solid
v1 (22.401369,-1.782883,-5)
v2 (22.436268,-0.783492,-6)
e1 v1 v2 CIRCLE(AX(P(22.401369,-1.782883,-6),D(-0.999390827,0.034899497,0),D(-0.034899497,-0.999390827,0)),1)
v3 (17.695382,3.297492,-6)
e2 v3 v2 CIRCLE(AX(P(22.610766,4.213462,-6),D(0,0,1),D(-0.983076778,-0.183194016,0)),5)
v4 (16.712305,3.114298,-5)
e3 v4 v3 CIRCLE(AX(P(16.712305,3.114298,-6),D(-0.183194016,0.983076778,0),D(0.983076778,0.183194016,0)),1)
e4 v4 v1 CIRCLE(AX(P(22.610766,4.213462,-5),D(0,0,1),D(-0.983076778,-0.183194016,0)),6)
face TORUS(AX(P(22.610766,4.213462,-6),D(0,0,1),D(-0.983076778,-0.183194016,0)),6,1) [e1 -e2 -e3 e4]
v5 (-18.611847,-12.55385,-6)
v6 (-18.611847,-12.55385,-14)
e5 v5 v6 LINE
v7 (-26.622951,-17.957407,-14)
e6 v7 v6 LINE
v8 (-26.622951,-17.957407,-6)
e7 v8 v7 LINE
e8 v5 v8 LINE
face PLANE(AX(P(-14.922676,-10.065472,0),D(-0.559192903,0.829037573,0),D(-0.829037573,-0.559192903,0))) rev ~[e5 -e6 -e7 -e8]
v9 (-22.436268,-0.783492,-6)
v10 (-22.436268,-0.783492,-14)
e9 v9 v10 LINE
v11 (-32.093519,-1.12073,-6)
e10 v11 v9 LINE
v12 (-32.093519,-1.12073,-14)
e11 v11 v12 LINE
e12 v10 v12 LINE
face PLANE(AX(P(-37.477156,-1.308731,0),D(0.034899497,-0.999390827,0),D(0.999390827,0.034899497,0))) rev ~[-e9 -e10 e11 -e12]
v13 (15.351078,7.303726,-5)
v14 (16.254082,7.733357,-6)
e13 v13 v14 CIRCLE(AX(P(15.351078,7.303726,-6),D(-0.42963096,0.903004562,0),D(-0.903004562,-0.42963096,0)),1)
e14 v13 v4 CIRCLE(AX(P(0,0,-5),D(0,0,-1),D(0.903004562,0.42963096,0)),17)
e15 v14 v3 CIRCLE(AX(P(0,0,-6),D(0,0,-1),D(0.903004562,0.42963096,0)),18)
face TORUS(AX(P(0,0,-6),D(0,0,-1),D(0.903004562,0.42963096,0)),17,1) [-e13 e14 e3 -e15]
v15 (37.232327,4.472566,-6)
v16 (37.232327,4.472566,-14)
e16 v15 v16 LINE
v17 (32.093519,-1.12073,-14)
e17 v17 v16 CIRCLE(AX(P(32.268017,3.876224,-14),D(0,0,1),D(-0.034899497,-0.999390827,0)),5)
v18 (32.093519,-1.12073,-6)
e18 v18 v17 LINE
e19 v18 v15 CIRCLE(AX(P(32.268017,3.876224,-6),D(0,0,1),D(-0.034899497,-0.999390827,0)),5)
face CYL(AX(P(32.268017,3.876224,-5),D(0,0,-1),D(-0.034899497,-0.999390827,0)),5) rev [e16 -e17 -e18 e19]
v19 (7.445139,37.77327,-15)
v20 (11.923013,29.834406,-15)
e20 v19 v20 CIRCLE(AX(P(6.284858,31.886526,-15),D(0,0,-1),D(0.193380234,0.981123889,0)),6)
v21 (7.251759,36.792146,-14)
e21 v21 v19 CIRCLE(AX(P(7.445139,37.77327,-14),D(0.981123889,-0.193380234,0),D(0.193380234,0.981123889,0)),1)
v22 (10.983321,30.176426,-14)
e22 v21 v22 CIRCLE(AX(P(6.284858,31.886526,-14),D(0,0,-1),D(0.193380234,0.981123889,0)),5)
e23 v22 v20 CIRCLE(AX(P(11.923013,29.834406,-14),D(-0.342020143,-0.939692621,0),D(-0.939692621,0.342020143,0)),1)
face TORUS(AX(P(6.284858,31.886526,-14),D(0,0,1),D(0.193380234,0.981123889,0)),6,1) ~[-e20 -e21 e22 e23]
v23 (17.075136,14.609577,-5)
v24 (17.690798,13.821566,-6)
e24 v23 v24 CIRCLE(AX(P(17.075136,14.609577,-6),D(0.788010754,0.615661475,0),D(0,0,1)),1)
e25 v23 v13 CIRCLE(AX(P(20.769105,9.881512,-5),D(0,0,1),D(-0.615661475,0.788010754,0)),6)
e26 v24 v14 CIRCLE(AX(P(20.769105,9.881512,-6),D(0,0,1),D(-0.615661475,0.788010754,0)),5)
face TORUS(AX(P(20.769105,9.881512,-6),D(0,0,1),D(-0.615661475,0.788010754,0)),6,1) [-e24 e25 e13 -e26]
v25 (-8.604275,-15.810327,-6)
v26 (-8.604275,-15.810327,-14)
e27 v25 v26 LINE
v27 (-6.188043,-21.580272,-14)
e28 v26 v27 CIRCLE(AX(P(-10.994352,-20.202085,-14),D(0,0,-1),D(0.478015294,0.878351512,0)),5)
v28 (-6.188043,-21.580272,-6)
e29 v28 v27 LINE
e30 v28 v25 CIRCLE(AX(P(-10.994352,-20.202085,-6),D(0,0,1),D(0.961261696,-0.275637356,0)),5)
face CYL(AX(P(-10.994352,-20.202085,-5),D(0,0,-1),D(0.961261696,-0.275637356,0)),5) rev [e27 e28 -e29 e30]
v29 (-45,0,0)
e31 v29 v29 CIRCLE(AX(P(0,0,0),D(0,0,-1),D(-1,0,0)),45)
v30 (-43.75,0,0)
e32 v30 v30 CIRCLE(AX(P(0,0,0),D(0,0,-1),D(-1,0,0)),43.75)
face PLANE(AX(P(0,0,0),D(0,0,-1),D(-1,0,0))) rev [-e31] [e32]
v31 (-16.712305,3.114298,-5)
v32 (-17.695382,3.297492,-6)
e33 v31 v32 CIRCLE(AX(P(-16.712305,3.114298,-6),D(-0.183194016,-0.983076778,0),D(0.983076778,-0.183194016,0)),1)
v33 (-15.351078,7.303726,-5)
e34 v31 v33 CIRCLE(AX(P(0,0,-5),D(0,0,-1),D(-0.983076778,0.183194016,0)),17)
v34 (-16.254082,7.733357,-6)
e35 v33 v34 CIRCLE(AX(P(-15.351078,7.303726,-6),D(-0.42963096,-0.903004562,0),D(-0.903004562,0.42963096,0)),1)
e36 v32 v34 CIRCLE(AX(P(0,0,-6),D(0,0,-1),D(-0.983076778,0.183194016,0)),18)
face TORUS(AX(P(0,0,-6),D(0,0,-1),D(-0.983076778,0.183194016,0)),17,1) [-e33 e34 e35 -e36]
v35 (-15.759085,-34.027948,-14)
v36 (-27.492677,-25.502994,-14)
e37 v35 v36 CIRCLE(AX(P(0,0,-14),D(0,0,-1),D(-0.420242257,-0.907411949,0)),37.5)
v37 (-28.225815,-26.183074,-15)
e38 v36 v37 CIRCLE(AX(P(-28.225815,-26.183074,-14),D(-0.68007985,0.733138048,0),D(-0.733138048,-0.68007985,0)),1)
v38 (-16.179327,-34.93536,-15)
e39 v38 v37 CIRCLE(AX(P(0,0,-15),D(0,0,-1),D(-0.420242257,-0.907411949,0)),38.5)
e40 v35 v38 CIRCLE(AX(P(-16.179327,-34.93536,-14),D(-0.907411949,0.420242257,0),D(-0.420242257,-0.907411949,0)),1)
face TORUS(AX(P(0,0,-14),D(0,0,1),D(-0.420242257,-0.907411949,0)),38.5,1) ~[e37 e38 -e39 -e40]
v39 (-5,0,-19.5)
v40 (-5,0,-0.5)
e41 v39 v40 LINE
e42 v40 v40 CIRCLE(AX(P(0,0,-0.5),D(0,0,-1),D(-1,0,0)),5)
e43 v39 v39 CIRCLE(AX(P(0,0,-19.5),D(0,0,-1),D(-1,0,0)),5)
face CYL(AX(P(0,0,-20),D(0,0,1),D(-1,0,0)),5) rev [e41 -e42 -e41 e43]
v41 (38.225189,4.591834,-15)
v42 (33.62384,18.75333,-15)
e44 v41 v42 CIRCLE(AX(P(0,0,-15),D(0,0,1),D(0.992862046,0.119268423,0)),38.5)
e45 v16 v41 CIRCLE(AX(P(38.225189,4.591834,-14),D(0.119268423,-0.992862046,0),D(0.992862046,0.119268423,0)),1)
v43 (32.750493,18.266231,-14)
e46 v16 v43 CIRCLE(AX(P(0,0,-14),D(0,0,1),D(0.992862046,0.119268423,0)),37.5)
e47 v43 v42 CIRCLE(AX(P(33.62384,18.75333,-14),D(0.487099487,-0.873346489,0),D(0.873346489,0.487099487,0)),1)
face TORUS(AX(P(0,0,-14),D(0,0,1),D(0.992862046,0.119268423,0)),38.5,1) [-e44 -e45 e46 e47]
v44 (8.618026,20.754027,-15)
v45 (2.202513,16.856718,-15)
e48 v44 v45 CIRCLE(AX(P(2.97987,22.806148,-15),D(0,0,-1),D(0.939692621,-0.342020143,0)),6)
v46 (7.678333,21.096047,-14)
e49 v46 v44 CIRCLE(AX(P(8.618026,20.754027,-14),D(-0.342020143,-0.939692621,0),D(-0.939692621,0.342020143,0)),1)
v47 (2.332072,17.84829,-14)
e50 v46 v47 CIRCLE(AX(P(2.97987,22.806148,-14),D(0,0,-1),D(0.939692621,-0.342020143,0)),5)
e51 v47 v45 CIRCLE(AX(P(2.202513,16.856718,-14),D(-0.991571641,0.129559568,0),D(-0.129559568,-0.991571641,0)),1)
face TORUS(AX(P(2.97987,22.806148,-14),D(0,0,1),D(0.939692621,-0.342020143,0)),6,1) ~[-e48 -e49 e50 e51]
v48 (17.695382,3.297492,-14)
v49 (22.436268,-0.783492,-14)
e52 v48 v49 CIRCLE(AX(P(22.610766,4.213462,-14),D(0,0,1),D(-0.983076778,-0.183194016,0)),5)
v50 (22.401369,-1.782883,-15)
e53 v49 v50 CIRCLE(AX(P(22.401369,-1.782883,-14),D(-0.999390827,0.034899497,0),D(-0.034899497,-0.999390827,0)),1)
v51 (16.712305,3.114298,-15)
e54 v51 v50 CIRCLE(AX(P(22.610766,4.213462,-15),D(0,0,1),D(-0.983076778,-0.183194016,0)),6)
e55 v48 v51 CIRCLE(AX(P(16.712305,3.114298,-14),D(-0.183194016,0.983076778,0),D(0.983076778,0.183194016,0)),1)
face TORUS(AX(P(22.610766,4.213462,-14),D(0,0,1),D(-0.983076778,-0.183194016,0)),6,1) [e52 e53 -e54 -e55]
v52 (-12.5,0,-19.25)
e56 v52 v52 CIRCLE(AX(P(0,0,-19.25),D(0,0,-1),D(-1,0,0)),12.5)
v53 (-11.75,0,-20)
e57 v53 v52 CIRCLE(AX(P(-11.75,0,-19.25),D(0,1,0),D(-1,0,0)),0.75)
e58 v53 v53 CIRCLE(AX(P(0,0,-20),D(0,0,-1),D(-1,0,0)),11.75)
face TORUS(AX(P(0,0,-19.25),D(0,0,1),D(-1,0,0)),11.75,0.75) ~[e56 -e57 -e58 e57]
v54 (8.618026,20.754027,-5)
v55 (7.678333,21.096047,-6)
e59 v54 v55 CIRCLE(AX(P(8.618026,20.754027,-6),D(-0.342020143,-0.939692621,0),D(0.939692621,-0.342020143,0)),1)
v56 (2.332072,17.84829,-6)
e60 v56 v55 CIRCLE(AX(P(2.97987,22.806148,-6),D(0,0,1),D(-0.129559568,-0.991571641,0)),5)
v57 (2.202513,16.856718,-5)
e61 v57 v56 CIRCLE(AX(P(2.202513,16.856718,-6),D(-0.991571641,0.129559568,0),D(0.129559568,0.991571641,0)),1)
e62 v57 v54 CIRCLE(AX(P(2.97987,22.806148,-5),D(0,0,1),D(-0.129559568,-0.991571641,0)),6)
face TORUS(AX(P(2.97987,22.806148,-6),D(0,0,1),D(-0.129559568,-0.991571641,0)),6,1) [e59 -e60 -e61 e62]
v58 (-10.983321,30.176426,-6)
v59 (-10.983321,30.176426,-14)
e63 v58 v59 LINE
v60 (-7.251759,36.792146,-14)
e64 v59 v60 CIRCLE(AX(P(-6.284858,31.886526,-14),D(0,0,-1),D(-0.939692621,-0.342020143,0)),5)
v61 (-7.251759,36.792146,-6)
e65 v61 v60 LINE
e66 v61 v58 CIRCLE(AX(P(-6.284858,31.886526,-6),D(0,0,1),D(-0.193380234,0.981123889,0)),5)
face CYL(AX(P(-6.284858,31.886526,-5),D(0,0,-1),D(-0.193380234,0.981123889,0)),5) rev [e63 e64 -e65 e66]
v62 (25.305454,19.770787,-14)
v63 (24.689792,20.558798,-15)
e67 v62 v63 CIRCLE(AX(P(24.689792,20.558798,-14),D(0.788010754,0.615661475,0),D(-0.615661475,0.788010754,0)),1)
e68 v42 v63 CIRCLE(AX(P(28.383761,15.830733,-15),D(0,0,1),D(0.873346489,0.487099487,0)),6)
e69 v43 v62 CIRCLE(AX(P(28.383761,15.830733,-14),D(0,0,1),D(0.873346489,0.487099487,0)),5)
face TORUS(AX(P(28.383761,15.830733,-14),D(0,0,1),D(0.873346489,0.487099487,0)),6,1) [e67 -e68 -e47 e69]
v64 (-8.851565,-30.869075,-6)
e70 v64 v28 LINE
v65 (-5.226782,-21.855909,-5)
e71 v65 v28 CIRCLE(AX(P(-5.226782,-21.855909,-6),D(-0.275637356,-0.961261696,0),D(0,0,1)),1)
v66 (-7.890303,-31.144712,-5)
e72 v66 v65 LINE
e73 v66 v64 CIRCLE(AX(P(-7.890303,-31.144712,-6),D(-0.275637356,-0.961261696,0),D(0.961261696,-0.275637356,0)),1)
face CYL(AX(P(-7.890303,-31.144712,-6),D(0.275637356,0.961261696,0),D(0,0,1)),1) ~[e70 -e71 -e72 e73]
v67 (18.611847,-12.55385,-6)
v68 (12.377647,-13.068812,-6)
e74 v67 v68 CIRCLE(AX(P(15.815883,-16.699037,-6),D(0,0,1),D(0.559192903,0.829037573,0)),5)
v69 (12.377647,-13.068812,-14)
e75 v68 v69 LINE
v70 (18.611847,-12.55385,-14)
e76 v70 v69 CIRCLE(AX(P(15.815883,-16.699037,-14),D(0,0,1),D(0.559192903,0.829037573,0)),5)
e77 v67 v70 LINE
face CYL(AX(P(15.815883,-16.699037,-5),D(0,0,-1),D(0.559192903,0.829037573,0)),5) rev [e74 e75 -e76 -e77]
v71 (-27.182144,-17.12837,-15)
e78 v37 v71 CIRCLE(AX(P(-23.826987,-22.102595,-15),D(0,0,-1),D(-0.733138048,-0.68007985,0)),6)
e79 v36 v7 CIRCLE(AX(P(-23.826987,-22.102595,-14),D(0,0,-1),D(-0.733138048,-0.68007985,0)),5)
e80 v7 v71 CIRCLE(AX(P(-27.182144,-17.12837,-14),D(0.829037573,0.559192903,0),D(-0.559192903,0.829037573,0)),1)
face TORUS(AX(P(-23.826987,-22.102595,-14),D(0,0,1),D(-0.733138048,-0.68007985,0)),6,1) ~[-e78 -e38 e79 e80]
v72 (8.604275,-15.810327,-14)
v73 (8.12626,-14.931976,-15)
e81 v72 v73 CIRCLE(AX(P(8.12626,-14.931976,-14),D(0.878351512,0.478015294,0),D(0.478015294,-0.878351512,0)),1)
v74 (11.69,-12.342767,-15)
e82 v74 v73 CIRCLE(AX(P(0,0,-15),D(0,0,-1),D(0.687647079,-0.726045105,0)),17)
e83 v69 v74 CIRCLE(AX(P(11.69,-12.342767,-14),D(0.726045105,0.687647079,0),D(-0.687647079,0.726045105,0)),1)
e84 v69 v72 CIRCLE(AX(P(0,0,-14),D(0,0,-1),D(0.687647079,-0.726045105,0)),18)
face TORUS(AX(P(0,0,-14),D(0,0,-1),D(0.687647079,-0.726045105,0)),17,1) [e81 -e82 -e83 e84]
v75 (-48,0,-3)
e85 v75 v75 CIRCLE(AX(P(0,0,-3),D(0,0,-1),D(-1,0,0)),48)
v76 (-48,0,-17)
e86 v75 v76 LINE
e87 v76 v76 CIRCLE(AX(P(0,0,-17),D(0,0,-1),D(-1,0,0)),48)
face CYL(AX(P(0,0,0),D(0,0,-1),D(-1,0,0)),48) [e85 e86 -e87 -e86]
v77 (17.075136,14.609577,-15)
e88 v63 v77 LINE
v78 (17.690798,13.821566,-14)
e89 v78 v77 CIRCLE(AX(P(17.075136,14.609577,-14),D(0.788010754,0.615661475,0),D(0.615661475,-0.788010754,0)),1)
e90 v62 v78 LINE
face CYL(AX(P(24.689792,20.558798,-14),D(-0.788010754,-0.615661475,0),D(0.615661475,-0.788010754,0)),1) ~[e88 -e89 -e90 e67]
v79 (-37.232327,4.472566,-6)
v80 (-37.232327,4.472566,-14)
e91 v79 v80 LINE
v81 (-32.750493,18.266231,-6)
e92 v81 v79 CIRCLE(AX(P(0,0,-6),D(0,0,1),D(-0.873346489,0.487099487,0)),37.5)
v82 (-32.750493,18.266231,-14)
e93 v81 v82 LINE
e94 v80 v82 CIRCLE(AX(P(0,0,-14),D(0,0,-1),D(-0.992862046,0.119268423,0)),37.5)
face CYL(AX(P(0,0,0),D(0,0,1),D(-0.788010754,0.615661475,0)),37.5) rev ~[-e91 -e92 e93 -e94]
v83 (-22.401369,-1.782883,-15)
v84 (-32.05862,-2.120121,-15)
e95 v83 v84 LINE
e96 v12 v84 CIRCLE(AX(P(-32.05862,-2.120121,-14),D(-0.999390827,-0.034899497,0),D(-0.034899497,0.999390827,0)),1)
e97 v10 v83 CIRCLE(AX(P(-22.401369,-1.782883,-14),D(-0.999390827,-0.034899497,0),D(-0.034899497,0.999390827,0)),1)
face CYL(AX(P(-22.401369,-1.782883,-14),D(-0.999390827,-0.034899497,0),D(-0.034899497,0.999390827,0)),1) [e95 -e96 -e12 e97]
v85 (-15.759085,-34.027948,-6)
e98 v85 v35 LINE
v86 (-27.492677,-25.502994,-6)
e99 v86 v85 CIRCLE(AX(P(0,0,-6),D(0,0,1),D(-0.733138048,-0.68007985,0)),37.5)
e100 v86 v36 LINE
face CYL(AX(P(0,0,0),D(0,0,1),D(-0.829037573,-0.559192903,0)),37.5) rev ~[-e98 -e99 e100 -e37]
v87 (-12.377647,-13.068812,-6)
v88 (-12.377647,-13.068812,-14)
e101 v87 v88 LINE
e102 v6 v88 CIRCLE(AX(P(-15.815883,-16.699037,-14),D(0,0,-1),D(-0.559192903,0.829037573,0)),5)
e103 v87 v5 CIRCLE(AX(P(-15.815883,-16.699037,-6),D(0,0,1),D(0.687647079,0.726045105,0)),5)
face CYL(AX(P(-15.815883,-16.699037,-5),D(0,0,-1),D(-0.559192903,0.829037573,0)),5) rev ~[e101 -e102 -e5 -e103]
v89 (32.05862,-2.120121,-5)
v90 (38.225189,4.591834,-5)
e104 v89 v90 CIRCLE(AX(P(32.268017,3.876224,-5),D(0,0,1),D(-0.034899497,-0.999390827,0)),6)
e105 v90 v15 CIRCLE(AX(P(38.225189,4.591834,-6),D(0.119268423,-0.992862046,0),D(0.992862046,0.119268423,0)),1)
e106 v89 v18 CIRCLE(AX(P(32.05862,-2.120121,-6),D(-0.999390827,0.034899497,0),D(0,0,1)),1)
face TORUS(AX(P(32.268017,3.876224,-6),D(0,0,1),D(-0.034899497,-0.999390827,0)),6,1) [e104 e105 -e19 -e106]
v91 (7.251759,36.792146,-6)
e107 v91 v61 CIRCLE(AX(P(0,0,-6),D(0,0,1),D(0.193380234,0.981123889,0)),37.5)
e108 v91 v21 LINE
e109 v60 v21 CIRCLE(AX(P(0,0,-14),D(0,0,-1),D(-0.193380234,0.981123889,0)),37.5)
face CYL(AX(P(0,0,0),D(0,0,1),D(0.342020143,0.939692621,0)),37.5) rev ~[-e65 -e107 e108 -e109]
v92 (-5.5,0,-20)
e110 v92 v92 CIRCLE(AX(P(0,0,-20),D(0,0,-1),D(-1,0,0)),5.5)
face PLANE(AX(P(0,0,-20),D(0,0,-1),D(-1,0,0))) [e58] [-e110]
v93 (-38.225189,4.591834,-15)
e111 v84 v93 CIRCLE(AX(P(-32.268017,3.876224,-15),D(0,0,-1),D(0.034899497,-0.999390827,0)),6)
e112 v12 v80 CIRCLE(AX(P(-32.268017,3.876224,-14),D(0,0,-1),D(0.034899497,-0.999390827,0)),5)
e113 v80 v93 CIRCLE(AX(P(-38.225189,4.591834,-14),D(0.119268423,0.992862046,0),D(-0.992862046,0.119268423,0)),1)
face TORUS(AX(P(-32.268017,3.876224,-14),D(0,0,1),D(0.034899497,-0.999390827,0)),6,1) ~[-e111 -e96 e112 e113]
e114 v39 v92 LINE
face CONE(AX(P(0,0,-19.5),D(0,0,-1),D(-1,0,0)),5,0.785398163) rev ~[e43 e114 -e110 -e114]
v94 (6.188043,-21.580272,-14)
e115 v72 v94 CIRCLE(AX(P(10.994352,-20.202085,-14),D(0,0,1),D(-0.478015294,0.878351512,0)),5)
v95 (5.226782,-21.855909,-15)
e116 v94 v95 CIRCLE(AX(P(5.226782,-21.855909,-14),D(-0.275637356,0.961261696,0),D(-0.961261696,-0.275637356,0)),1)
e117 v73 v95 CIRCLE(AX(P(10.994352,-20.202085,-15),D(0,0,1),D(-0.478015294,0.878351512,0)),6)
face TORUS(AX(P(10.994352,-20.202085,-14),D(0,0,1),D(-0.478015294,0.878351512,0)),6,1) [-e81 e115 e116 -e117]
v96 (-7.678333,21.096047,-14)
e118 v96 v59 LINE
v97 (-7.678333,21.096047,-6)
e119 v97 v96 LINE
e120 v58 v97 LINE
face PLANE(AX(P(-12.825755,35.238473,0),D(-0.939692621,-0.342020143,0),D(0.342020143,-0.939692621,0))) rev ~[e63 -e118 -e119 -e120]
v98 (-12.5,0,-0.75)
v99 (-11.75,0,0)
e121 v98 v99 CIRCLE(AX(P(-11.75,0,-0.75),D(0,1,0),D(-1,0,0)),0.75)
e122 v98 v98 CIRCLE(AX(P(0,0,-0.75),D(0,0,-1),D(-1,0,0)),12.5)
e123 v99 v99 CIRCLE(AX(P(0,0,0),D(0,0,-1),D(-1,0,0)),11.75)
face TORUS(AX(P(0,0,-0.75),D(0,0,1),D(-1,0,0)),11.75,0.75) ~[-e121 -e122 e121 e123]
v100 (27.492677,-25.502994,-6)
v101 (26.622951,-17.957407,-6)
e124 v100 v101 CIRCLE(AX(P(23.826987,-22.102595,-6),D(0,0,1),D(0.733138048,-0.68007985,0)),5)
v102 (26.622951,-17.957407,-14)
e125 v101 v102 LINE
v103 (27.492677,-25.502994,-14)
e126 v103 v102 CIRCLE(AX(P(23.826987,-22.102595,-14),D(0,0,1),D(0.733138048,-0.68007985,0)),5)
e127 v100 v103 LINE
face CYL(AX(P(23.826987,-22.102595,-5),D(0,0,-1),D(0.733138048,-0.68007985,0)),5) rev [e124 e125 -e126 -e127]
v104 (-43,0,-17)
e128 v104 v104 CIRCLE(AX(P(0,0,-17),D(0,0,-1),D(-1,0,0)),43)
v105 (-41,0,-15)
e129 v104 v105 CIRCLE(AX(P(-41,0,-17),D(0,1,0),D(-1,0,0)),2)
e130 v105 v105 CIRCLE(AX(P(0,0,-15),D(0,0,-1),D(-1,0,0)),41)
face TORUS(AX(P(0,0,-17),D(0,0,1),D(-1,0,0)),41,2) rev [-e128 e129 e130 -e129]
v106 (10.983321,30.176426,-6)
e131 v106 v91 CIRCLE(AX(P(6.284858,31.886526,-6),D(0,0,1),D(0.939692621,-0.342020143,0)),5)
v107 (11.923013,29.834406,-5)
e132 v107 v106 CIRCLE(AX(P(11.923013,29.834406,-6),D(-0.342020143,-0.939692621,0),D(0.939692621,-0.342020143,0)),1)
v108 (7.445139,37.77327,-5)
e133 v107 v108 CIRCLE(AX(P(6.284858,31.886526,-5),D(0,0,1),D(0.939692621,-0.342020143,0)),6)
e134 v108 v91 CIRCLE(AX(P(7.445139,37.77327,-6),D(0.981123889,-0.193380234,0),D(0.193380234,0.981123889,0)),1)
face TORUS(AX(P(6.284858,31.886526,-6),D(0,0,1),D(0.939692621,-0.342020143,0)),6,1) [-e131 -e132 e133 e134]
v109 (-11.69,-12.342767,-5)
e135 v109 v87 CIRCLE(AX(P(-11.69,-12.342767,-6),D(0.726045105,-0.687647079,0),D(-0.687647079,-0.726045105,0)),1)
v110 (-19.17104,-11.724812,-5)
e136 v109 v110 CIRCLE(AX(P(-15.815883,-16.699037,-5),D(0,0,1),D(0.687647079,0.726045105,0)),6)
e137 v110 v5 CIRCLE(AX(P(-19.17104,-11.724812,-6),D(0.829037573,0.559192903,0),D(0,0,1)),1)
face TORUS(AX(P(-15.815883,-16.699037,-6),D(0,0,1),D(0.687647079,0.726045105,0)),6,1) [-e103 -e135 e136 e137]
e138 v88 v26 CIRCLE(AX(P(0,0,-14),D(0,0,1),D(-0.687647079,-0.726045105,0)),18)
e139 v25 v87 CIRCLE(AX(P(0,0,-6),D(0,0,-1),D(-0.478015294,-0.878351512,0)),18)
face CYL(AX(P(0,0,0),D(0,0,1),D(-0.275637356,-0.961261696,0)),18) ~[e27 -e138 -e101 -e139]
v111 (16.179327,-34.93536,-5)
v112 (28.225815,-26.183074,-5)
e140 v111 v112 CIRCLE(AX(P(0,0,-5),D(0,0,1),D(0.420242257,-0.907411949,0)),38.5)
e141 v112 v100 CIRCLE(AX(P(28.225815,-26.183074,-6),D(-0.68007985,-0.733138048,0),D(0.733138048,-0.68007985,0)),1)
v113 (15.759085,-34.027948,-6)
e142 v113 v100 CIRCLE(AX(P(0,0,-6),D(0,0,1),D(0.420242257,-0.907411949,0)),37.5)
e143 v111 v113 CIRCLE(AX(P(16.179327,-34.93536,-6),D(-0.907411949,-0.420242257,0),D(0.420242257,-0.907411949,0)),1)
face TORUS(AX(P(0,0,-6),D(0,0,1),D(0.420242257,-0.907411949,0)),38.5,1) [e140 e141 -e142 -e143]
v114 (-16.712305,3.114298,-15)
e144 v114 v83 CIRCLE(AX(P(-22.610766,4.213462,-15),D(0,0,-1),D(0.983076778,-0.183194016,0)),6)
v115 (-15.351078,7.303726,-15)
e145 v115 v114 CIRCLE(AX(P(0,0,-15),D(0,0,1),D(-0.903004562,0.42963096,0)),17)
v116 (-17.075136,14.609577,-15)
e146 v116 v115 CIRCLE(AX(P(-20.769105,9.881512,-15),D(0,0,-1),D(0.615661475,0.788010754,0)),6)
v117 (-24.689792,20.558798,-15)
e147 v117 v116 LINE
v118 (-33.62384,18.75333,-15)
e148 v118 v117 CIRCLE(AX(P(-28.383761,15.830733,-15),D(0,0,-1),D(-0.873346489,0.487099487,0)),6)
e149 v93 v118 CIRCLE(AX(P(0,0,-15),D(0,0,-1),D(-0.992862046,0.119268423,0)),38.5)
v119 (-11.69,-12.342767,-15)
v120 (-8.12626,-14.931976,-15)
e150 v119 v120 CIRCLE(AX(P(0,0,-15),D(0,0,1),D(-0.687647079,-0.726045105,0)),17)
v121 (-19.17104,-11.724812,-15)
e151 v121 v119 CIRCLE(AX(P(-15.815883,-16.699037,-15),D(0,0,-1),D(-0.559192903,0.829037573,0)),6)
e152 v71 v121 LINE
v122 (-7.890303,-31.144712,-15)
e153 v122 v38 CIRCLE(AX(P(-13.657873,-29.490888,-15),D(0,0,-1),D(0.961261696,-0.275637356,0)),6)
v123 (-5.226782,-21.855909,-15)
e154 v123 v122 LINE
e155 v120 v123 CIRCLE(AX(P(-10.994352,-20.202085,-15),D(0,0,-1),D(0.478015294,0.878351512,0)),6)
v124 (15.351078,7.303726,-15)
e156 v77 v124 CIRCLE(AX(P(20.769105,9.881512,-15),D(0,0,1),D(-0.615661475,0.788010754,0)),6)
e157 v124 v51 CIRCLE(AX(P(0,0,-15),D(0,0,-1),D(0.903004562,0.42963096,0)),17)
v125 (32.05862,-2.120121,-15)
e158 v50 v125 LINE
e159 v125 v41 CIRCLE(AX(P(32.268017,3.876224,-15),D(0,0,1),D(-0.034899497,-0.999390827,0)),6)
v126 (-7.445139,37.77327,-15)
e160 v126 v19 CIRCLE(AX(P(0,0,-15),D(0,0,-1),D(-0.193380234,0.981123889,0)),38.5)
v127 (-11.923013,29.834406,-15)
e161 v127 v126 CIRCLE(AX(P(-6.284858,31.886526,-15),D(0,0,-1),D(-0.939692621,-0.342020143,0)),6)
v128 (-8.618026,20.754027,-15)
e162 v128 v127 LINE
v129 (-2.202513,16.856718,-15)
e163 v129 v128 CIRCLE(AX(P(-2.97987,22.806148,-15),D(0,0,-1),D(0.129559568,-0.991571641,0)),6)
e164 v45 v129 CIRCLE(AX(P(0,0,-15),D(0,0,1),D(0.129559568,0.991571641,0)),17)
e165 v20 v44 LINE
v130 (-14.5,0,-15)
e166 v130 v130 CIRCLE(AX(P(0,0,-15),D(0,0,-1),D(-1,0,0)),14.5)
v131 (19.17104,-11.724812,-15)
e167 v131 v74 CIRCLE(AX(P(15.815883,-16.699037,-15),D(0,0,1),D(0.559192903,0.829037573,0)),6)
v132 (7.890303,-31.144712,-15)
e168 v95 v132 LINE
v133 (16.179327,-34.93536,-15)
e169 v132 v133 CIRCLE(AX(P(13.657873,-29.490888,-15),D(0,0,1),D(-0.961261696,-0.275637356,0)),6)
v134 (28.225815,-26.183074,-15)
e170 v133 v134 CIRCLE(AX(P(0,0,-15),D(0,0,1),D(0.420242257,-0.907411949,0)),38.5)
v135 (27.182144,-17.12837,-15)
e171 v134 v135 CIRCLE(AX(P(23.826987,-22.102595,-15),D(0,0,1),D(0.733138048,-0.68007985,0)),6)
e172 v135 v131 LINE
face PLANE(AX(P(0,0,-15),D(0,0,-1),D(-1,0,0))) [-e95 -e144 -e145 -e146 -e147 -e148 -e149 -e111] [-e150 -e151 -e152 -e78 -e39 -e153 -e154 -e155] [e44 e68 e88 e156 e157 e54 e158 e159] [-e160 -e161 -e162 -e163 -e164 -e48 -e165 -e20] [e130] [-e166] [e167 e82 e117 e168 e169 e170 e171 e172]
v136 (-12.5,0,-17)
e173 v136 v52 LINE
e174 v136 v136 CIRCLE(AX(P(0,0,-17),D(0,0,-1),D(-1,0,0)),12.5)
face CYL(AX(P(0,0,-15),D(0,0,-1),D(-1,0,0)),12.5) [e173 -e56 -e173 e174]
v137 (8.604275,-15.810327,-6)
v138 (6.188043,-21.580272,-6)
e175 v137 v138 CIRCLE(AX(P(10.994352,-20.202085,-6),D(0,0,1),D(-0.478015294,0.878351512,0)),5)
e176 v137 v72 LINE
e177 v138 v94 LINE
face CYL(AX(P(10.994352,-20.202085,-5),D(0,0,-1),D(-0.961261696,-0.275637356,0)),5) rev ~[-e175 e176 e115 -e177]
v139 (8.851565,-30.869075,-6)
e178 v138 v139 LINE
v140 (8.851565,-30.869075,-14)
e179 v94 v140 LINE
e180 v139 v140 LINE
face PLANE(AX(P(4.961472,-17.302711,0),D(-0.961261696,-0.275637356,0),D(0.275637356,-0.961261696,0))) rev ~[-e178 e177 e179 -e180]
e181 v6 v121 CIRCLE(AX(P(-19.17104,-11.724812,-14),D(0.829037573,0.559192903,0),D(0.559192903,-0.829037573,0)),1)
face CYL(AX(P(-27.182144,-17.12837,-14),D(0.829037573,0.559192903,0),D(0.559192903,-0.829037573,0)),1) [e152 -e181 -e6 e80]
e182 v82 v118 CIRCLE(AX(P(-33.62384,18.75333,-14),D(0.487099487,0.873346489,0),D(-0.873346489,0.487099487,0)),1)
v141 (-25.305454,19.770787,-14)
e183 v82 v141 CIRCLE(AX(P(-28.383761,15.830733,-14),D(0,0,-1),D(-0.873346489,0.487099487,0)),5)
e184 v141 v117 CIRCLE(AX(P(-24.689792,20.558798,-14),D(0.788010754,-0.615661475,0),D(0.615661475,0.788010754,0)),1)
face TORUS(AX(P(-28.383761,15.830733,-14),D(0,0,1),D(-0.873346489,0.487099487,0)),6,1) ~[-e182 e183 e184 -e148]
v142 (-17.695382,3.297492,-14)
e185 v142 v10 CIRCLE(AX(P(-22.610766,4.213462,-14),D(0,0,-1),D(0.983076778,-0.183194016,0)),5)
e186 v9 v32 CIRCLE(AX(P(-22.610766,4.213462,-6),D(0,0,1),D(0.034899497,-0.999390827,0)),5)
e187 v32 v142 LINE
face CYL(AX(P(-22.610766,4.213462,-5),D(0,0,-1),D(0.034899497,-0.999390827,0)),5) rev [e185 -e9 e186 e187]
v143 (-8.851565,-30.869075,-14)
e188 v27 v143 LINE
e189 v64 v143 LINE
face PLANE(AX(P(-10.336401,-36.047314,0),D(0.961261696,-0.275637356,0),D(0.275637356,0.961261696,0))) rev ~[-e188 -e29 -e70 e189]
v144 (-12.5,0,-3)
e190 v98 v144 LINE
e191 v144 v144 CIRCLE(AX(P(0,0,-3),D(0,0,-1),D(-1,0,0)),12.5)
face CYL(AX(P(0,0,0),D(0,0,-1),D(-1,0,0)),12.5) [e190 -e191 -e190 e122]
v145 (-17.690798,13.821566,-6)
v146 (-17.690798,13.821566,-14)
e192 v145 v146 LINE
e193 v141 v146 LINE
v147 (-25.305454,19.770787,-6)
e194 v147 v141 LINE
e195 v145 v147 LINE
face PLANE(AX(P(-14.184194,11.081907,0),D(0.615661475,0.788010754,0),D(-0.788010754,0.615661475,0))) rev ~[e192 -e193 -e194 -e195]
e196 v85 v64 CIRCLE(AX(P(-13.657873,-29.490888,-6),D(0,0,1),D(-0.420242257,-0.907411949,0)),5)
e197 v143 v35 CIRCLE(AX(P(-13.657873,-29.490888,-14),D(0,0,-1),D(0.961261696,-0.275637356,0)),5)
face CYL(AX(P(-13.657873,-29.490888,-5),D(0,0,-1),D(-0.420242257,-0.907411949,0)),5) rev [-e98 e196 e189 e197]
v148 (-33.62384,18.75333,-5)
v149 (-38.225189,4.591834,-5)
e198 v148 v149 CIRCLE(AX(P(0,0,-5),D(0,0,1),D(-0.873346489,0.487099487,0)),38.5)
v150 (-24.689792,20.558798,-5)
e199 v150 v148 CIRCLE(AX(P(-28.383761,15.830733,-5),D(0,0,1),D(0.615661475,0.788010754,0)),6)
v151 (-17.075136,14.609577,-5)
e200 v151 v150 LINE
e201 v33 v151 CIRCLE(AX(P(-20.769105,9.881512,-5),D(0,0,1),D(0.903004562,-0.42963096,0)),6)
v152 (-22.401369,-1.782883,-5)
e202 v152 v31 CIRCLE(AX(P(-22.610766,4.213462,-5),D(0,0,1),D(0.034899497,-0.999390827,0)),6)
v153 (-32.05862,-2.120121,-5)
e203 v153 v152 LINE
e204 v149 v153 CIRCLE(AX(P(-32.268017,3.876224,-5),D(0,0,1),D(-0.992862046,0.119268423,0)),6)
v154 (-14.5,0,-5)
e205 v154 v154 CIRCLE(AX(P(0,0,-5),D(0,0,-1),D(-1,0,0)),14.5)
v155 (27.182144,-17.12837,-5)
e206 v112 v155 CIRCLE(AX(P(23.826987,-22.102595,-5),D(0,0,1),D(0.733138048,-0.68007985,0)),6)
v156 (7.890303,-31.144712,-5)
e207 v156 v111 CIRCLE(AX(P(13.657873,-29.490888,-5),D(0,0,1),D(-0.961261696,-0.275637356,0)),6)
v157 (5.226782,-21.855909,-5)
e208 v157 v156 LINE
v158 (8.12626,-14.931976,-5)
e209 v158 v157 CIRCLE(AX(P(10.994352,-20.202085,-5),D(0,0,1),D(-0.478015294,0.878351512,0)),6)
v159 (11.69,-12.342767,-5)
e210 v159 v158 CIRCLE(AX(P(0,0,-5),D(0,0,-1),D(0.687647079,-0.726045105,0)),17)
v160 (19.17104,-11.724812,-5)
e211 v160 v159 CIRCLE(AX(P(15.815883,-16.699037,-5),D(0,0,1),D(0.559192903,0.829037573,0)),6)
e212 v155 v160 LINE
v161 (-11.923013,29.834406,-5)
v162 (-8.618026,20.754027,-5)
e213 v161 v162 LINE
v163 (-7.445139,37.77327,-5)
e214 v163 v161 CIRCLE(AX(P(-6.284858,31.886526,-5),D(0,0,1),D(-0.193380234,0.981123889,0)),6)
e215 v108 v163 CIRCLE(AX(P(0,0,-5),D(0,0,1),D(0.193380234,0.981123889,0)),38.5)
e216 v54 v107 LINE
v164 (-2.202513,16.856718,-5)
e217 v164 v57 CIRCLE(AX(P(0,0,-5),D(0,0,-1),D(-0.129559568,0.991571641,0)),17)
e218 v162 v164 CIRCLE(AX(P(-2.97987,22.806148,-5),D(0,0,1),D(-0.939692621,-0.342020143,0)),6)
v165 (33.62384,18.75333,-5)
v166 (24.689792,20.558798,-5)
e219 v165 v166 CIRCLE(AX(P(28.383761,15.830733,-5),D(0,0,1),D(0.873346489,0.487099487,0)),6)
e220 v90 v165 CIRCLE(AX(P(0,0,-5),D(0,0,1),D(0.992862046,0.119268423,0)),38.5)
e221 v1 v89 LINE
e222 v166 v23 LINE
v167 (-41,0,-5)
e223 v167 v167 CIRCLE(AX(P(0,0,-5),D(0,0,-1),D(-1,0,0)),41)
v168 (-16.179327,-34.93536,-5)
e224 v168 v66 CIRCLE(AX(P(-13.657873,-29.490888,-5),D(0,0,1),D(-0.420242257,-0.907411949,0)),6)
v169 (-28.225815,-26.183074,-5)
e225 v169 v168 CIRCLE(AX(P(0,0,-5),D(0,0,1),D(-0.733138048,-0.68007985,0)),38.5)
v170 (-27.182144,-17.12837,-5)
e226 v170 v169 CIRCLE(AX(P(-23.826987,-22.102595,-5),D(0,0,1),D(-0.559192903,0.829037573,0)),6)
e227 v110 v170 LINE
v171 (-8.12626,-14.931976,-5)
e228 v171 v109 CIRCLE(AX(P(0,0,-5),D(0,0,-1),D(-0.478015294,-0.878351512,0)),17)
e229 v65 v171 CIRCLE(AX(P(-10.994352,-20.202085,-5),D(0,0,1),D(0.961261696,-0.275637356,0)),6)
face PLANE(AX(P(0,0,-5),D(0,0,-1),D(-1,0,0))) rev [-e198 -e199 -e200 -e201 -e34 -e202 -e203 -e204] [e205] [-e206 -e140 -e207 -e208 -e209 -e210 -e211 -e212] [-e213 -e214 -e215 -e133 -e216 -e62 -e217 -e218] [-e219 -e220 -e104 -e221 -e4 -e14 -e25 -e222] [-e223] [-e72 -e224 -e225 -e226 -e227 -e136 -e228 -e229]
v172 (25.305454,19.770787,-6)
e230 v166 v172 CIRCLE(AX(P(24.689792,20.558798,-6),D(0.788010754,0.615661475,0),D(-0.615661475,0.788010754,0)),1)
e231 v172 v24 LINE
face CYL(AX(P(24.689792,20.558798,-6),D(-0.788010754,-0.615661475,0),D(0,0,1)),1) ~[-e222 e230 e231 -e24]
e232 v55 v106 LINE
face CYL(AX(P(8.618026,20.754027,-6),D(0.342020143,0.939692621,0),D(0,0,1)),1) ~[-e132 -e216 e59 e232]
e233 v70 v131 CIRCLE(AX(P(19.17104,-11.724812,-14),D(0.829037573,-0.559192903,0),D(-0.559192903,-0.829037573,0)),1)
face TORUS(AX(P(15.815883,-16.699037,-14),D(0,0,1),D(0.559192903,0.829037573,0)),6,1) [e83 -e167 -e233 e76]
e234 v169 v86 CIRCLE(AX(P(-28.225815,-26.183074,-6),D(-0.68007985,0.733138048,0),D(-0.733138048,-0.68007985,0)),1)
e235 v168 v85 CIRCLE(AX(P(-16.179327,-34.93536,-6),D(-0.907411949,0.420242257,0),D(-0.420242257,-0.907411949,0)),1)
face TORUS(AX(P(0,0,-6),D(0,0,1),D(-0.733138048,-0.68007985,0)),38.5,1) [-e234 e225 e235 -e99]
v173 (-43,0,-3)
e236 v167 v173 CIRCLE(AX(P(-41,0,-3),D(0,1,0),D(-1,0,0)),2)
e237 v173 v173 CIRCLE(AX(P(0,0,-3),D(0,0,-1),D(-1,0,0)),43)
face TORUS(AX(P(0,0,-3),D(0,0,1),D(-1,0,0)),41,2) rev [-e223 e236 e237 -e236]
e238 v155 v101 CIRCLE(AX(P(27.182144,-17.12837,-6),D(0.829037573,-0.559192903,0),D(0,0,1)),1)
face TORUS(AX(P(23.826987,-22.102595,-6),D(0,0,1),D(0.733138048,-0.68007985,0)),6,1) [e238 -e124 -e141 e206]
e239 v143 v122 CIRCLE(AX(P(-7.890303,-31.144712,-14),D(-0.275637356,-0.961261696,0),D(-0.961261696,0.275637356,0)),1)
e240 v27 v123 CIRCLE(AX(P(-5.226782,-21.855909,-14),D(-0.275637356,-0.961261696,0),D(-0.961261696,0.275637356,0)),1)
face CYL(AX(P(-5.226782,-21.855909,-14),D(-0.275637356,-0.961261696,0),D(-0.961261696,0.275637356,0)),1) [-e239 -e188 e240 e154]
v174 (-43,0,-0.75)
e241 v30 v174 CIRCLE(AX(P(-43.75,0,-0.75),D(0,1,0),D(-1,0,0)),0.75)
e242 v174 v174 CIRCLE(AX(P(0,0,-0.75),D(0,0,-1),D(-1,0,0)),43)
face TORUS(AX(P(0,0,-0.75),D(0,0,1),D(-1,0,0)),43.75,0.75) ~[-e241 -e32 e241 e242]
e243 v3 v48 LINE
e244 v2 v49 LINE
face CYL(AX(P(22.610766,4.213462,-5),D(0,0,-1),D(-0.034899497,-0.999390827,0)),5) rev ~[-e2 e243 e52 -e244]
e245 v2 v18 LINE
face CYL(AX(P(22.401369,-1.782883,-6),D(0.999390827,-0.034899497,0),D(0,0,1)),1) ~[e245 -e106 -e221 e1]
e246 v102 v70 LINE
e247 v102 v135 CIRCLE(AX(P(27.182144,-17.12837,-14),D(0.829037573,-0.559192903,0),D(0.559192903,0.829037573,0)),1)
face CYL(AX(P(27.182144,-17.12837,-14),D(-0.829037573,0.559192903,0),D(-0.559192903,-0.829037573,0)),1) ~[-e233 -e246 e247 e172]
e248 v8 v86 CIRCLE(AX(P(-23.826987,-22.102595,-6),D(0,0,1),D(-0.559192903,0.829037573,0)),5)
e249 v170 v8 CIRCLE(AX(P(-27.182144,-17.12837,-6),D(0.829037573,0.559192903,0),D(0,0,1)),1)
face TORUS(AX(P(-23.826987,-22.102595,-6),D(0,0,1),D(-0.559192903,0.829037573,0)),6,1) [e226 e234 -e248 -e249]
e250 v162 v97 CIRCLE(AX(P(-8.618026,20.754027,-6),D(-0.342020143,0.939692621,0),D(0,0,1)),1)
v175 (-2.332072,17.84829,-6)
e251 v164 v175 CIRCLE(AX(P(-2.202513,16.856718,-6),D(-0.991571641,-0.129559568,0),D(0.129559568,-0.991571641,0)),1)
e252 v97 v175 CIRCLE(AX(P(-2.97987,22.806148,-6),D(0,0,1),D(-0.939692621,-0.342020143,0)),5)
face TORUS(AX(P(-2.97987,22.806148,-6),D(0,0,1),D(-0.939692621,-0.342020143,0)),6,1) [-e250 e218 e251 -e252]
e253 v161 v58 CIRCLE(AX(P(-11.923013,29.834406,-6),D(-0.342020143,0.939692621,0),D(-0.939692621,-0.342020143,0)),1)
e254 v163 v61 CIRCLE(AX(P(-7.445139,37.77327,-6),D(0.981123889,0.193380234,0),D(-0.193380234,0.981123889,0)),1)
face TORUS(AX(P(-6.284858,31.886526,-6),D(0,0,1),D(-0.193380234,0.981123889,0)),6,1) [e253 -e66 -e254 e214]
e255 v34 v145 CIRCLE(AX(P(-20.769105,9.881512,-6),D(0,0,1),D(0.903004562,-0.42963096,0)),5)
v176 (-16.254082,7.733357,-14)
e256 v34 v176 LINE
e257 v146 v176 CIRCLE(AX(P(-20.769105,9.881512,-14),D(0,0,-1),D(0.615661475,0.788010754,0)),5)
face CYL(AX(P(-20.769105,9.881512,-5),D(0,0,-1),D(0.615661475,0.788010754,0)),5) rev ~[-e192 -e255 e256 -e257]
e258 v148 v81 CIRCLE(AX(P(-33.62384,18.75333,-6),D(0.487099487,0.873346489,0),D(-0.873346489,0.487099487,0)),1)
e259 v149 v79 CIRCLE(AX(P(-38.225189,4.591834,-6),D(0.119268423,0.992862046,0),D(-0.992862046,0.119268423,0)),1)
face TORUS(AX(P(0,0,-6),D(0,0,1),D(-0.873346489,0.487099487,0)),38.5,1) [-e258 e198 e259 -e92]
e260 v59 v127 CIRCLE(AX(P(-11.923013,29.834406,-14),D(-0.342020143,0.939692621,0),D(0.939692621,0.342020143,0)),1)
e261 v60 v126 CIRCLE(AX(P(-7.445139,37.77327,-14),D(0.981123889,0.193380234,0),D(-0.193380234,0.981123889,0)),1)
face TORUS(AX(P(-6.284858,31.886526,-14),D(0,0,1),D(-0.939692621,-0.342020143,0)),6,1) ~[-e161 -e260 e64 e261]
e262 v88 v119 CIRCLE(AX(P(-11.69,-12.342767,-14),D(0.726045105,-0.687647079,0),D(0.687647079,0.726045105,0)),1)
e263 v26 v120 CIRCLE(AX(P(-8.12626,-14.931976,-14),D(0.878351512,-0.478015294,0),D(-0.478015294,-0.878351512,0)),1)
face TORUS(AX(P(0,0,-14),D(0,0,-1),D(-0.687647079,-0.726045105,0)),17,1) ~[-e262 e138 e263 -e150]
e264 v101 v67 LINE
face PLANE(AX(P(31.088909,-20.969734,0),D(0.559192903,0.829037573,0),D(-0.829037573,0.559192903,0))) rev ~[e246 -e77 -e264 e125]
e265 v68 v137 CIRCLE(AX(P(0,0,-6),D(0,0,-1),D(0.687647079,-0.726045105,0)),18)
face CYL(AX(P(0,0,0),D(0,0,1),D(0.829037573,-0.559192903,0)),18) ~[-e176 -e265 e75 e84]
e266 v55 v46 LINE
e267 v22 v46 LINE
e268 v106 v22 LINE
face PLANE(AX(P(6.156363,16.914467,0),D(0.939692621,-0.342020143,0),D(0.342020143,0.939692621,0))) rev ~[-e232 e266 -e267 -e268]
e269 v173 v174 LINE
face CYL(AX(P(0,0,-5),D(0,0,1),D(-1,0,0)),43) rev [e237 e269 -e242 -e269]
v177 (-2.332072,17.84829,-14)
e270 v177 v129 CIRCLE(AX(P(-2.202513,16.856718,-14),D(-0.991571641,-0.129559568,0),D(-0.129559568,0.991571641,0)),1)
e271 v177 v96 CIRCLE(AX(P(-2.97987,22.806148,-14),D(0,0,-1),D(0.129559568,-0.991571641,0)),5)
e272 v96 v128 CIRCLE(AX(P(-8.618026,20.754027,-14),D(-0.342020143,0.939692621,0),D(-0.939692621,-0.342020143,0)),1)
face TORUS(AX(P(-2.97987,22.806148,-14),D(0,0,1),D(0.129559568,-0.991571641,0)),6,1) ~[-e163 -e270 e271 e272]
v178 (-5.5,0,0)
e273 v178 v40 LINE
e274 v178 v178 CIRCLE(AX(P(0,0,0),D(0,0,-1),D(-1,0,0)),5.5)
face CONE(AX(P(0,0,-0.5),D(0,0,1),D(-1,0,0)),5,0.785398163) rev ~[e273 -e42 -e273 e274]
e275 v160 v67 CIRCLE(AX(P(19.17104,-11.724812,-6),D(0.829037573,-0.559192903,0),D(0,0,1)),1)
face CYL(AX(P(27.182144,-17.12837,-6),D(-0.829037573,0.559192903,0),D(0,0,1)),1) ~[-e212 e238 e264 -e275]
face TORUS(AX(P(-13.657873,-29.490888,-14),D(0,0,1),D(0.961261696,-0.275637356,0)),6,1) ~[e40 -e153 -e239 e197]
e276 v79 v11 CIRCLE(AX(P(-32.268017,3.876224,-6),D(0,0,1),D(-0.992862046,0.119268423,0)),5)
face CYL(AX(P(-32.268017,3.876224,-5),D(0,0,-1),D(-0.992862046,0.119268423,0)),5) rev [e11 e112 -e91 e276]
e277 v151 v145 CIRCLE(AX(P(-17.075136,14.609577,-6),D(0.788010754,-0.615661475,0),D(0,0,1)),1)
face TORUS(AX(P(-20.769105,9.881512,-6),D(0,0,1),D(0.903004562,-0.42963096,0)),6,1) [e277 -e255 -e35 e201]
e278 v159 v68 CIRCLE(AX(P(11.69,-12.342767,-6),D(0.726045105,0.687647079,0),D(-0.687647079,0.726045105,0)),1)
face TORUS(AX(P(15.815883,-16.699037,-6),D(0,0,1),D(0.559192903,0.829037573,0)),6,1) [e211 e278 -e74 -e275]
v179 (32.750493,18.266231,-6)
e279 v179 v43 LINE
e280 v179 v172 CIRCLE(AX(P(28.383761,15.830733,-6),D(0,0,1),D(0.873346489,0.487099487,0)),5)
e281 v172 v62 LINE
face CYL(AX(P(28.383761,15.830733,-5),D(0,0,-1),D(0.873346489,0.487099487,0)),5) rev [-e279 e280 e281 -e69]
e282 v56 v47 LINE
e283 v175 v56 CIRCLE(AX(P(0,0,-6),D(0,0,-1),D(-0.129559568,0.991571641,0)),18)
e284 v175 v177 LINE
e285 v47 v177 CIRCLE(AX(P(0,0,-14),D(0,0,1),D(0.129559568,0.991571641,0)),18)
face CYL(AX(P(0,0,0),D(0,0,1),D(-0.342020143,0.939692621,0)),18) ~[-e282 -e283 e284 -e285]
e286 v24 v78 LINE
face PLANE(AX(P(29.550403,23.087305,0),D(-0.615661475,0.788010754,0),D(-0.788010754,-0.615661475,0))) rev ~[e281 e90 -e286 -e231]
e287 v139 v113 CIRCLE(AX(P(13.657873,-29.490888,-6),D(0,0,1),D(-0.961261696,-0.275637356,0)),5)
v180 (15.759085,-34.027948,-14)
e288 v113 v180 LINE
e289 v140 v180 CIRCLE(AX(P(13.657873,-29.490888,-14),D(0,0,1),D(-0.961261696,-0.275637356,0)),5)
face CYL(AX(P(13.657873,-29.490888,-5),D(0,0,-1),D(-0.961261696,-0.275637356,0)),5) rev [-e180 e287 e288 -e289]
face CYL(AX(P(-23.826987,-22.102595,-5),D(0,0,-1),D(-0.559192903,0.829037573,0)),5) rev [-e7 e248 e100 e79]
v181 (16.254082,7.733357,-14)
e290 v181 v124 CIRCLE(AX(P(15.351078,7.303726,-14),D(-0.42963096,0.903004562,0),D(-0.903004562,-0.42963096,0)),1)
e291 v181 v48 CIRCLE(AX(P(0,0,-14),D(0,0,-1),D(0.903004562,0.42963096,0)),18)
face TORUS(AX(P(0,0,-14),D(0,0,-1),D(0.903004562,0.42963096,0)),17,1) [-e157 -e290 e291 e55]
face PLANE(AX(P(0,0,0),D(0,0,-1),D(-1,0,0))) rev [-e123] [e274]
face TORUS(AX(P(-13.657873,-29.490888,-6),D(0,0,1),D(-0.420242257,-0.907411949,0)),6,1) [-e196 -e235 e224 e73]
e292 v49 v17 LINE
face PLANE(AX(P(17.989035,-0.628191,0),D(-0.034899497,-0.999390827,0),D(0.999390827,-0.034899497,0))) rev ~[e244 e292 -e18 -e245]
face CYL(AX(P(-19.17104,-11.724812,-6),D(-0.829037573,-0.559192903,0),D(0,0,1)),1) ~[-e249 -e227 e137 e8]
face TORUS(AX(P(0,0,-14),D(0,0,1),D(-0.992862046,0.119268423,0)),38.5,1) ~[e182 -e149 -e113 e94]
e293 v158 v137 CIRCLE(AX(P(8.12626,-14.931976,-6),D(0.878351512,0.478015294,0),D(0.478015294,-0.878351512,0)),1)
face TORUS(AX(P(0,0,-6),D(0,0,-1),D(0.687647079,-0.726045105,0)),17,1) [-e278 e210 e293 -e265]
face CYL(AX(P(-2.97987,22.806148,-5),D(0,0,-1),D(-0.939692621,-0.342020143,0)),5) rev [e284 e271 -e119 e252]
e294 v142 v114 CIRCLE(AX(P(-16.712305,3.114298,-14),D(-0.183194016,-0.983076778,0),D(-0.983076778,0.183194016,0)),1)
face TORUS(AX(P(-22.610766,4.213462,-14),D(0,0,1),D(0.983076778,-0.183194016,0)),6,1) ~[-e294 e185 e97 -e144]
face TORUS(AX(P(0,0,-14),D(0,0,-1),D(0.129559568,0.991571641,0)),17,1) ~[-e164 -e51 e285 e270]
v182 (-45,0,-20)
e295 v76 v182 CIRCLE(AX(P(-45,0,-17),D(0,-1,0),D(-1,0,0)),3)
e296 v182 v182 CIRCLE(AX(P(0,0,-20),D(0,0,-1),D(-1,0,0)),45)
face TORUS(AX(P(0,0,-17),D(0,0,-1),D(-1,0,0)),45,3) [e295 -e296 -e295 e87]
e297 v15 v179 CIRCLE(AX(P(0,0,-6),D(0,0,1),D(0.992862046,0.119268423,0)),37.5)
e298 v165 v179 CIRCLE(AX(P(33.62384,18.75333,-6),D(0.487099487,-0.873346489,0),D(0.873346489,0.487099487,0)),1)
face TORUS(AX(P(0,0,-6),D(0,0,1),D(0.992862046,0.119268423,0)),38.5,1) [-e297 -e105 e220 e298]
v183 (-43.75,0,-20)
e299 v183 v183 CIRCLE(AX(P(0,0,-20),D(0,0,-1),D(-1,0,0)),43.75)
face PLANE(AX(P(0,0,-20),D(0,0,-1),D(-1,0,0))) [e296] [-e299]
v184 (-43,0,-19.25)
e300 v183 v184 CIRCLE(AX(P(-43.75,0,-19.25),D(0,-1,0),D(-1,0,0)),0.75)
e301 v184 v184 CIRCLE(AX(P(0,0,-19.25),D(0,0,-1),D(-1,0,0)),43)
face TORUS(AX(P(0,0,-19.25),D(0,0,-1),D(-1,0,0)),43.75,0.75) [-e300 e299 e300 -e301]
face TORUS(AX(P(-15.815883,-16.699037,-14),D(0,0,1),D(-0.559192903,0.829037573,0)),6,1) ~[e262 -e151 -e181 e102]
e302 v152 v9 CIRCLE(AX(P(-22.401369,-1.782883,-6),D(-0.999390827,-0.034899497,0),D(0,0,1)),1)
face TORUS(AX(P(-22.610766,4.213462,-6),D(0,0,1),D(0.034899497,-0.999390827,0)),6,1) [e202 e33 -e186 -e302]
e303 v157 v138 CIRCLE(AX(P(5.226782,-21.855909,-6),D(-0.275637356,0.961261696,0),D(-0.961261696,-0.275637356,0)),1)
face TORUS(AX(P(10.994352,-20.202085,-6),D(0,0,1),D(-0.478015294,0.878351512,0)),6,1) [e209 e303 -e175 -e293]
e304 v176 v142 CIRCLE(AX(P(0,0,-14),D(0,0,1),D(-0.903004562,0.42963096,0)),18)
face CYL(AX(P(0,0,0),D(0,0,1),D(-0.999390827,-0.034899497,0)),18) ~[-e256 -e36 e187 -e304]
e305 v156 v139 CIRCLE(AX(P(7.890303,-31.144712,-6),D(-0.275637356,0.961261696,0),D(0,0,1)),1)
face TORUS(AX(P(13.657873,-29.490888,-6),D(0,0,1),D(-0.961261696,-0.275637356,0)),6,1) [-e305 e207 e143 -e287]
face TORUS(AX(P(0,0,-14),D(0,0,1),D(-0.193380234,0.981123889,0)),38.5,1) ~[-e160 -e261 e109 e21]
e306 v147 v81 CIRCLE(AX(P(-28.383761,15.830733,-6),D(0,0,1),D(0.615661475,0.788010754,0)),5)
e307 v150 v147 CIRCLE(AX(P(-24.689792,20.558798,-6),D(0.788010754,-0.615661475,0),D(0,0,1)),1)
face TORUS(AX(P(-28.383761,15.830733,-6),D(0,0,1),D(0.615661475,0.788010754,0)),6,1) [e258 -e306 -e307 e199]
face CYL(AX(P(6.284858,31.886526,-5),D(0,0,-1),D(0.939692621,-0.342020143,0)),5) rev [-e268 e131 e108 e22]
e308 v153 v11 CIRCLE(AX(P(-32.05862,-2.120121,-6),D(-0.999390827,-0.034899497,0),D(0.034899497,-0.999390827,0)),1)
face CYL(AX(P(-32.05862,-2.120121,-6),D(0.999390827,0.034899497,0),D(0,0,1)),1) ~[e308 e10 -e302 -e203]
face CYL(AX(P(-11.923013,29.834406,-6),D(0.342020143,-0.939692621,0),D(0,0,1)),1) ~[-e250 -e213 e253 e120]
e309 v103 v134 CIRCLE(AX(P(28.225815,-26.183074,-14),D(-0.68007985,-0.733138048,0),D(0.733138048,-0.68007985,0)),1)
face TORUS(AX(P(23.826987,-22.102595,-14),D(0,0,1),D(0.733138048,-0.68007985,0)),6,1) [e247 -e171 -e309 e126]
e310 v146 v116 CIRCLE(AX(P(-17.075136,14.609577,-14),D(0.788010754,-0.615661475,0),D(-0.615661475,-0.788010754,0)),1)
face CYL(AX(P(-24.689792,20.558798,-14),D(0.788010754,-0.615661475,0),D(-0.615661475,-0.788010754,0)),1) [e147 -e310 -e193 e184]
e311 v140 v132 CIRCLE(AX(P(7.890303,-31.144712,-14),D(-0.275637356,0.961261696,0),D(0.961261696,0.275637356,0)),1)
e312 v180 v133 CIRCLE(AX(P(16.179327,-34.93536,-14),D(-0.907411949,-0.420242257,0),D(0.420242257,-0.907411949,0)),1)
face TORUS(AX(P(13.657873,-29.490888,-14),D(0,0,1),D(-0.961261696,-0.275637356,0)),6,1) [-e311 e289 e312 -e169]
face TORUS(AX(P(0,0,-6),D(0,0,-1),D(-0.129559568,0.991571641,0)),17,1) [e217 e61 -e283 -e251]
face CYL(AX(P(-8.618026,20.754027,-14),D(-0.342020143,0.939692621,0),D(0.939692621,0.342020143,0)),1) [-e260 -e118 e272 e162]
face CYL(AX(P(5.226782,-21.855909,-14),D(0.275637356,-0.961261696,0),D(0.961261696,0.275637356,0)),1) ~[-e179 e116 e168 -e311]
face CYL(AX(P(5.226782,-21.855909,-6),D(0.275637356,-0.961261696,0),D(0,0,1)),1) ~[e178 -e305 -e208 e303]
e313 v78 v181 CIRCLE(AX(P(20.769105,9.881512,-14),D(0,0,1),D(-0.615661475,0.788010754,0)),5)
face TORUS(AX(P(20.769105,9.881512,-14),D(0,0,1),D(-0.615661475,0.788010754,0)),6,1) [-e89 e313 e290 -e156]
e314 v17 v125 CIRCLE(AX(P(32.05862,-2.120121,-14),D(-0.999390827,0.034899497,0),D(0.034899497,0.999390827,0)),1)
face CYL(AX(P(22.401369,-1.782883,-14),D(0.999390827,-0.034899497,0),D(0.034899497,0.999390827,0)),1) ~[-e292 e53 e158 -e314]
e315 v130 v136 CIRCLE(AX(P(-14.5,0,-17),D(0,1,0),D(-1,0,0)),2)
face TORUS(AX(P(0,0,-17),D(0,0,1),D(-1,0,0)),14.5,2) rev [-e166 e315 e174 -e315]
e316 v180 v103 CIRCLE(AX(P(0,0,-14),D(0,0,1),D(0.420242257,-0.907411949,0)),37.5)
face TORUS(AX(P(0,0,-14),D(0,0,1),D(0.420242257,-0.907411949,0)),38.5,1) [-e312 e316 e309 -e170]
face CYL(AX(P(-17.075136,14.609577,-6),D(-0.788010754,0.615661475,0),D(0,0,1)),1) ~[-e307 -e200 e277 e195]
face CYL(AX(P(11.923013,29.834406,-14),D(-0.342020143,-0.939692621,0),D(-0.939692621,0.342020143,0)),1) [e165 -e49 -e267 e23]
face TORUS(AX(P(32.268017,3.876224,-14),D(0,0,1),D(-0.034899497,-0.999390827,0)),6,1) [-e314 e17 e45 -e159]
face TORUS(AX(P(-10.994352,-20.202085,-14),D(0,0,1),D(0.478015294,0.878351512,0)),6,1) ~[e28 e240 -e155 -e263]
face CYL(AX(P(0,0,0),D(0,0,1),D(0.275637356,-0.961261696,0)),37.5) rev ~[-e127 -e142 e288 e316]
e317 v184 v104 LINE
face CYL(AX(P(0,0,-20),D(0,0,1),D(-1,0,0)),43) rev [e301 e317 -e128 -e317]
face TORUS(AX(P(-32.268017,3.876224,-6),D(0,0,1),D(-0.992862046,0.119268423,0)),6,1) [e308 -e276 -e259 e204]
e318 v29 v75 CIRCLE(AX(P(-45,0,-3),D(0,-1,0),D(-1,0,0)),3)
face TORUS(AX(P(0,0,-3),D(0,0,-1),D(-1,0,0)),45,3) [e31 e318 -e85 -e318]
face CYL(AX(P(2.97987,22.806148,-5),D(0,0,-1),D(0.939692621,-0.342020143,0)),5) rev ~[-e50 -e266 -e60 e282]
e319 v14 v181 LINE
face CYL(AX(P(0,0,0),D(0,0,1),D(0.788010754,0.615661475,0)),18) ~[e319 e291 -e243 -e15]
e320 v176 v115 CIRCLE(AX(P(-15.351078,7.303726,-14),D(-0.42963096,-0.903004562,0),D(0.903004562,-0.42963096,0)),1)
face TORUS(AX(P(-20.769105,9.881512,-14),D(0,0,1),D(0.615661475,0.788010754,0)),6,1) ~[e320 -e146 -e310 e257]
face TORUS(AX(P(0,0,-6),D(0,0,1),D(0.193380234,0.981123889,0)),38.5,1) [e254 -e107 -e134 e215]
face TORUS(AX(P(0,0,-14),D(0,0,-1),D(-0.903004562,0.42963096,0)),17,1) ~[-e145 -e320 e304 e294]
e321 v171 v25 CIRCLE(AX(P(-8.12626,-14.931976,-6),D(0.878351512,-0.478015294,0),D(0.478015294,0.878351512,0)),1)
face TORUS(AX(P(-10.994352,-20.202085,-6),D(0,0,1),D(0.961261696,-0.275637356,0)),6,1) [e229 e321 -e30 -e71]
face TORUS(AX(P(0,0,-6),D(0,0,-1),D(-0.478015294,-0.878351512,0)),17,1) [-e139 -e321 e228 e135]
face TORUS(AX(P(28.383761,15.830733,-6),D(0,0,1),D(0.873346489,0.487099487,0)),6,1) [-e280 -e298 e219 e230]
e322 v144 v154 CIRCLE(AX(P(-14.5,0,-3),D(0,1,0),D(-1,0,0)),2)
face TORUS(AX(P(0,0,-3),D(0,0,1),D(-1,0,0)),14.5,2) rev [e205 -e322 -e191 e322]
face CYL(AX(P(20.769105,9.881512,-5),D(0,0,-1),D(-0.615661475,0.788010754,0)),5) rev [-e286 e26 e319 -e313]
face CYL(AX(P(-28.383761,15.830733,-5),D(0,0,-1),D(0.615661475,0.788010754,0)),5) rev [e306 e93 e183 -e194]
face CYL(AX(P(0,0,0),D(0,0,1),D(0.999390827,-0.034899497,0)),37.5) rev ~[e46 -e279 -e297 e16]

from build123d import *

# Parameters (mm, degrees)
F2_R     = 2
F3_R     = 3
F4_R     = 0.75
F6_DEPTH = 25
F7_R     = 5
F8_R     = 1
F9_SIZE  = 0.5


with BuildPart() as f1:
    # F0 (on Front) → F1 (revolve)
    with BuildSketch(Plane.XZ):
        Polygon((-5, -20), (-5, 0), (-12.5, 0), (-12.5, -5), (-43, -5), (-43, 0), (-48, 0), (-48, -20), (-43, -20), (-43, -15), (-12.5, -15), (-12.5, -20), align=None)
    revolve(axis=Axis((0, 0, -8.972), (0, 0, -1)))

    # F2
    f2_edges = [f1.edges().sort_by_distance(p)[0] for p in [
        (12.5, 0, -5),
        (43, 0, -5),
        (12.5, 0, -15),
        (43, 0, -15),
    ]]
    fillet(f2_edges, radius=F2_R)

    # F3
    f3_edges = [f1.edges().sort_by_distance(p)[0] for p in [
        (48, 0, 0),
        (48, 0, -20),
    ]]
    fillet(f3_edges, radius=F3_R)

    # F4
    f4_edges = [f1.edges().sort_by_distance(p)[0] for p in [
        (-43, 0, -18.5),
        (43, 0, -17),
        (43, 0, -20),
        (-43, 0, -1.5),
        (43, 0, -3),
        (43, 0, 0),
        (12.5, 0, -20),
        (12.5, 0, 0),
    ]]
    fillet(f4_edges, radius=F4_R)

    # F5 (on Top) → F6 (cut)
    with BuildSketch(Plane.XY):
        with BuildLine():
            Line((-14.1841935649, 11.0819065559), (-29.5504032603, 23.0873053247))
            ThreePointArc((-29.5504032603, 23.0873053247), (-35.6646193611, 11.5881372891), (-37.4771560132, -1.3087311263))
            Line((-37.4771560132, -1.3087311263), (-17.9890348863, -0.6281909406))
            ThreePointArc((-17.9890348863, -0.6281909406), (-17.1190172933, 5.5623058987), (-14.1841935649, 11.0819065559))
        make_face()
        with BuildLine():
            ThreePointArc((-6.1563625799, 16.9144671741), (0, 18), (6.1563625799, 16.9144671741))
            Line((6.1563625799, 16.9144671741), (12.8257553747, 35.2384732795))
            ThreePointArc((12.8257553747, 35.2384732795), (0, 37.5), (-12.8257553747, 35.2384732795))
            Line((-12.8257553747, 35.2384732795), (-6.1563625799, 16.9144671741))
        make_face()
        with BuildLine():
            Line((17.9890348863, -0.6281909406), (37.4771560132, -1.3087311263))
            ThreePointArc((37.4771560132, -1.3087311263), (35.6646193611, 11.5881372891), (29.5504032603, 23.0873053247))
            Line((29.5504032603, 23.0873053247), (14.1841935649, 11.0819065559))
            ThreePointArc((14.1841935649, 11.0819065559), (17.1190172933, 5.5623058987), (17.9890348863, -0.6281909406))
        make_face()
        with BuildLine():
            Line((4.9614724047, -17.3027105269), (10.3364008431, -36.0473135977))
            ThreePointArc((10.3364008431, -36.0473135977), (22.041946961, -30.3381372891), (31.0889089708, -20.9697338802))
            Line((31.0889089708, -20.9697338802), (14.922676306, -10.0654722625))
            ThreePointArc((14.922676306, -10.0654722625), (10.5801345413, -14.5623058987), (4.9614724047, -17.3027105269))
        make_face()
        with BuildLine():
            Line((-14.922676306, -10.0654722625), (-31.0889089708, -20.9697338802))
            ThreePointArc((-31.0889089708, -20.9697338802), (-22.041946961, -30.3381372891), (-10.3364008431, -36.0473135977))
            Line((-10.3364008431, -36.0473135977), (-4.9614724047, -17.3027105269))
            ThreePointArc((-4.9614724047, -17.3027105269), (-10.5801345413, -14.5623058987), (-14.922676306, -10.0654722625))
        make_face()
    extrude(amount=-F6_DEPTH, mode=Mode.SUBTRACT)

    # F7
    f7_edges = [f1.edges().sort_by_distance(p)[0] for p in [
        (-29.550403, 23.087305, -10),
        (29.550403, 23.087305, -10),
        (-14.922676, -10.065472, -10),
        (14.922676, -10.065472, -10),
        (4.961472, -17.302711, -10),
        (-31.088909, -20.969734, -10),
        (-12.825755, 35.238473, -10),
        (12.825755, 35.238473, -10),
        (31.088909, -20.969734, -10),
        (-10.336401, -36.047314, -10),
        (37.477156, -1.308731, -10),
        (10.336401, -36.047314, -10),
        (-37.477156, -1.308731, -10),
        (17.989035, -0.628191, -10),
        (-6.156363, 16.914467, -10),
        (-4.961472, -17.302711, -10),
        (-14.184194, 11.081907, -10),
        (14.184194, 11.081907, -10),
        (6.156363, 16.914467, -10),
        (-17.989035, -0.628191, -10),
    ]]
    fillet(f7_edges, radius=F7_R)

    # F8
    f8_edges = [f1.edges().sort_by_distance(p)[0] for p in [
        (-21.498126, 16.796176, -5),
        (10.639858, 34.342941, -5),
        (35.664619, 11.588137, -5),
        (22.617399, -15.255628, -5),
        (-22.617399, -15.255628, -5),
        (22.041947, -30.338137, -15),
        (35.664619, 11.588137, -15),
        (-7.519804, -26.224673, -15),
        (-27.264894, -0.952111, -15),
        (9.330827, 25.636236, -15),
    ]]
    fillet(f8_edges, radius=F8_R)

    # F9
    f9_edges = [f1.edges().sort_by_distance(p)[0] for p in [
        (11.75, 0, -20),
        (5, 0, -20),
        (5, 0, 0),
        (-5, 0, -10),
    ]]
    chamfer(f9_edges, length=F9_SIZE)


solid = f1.part
